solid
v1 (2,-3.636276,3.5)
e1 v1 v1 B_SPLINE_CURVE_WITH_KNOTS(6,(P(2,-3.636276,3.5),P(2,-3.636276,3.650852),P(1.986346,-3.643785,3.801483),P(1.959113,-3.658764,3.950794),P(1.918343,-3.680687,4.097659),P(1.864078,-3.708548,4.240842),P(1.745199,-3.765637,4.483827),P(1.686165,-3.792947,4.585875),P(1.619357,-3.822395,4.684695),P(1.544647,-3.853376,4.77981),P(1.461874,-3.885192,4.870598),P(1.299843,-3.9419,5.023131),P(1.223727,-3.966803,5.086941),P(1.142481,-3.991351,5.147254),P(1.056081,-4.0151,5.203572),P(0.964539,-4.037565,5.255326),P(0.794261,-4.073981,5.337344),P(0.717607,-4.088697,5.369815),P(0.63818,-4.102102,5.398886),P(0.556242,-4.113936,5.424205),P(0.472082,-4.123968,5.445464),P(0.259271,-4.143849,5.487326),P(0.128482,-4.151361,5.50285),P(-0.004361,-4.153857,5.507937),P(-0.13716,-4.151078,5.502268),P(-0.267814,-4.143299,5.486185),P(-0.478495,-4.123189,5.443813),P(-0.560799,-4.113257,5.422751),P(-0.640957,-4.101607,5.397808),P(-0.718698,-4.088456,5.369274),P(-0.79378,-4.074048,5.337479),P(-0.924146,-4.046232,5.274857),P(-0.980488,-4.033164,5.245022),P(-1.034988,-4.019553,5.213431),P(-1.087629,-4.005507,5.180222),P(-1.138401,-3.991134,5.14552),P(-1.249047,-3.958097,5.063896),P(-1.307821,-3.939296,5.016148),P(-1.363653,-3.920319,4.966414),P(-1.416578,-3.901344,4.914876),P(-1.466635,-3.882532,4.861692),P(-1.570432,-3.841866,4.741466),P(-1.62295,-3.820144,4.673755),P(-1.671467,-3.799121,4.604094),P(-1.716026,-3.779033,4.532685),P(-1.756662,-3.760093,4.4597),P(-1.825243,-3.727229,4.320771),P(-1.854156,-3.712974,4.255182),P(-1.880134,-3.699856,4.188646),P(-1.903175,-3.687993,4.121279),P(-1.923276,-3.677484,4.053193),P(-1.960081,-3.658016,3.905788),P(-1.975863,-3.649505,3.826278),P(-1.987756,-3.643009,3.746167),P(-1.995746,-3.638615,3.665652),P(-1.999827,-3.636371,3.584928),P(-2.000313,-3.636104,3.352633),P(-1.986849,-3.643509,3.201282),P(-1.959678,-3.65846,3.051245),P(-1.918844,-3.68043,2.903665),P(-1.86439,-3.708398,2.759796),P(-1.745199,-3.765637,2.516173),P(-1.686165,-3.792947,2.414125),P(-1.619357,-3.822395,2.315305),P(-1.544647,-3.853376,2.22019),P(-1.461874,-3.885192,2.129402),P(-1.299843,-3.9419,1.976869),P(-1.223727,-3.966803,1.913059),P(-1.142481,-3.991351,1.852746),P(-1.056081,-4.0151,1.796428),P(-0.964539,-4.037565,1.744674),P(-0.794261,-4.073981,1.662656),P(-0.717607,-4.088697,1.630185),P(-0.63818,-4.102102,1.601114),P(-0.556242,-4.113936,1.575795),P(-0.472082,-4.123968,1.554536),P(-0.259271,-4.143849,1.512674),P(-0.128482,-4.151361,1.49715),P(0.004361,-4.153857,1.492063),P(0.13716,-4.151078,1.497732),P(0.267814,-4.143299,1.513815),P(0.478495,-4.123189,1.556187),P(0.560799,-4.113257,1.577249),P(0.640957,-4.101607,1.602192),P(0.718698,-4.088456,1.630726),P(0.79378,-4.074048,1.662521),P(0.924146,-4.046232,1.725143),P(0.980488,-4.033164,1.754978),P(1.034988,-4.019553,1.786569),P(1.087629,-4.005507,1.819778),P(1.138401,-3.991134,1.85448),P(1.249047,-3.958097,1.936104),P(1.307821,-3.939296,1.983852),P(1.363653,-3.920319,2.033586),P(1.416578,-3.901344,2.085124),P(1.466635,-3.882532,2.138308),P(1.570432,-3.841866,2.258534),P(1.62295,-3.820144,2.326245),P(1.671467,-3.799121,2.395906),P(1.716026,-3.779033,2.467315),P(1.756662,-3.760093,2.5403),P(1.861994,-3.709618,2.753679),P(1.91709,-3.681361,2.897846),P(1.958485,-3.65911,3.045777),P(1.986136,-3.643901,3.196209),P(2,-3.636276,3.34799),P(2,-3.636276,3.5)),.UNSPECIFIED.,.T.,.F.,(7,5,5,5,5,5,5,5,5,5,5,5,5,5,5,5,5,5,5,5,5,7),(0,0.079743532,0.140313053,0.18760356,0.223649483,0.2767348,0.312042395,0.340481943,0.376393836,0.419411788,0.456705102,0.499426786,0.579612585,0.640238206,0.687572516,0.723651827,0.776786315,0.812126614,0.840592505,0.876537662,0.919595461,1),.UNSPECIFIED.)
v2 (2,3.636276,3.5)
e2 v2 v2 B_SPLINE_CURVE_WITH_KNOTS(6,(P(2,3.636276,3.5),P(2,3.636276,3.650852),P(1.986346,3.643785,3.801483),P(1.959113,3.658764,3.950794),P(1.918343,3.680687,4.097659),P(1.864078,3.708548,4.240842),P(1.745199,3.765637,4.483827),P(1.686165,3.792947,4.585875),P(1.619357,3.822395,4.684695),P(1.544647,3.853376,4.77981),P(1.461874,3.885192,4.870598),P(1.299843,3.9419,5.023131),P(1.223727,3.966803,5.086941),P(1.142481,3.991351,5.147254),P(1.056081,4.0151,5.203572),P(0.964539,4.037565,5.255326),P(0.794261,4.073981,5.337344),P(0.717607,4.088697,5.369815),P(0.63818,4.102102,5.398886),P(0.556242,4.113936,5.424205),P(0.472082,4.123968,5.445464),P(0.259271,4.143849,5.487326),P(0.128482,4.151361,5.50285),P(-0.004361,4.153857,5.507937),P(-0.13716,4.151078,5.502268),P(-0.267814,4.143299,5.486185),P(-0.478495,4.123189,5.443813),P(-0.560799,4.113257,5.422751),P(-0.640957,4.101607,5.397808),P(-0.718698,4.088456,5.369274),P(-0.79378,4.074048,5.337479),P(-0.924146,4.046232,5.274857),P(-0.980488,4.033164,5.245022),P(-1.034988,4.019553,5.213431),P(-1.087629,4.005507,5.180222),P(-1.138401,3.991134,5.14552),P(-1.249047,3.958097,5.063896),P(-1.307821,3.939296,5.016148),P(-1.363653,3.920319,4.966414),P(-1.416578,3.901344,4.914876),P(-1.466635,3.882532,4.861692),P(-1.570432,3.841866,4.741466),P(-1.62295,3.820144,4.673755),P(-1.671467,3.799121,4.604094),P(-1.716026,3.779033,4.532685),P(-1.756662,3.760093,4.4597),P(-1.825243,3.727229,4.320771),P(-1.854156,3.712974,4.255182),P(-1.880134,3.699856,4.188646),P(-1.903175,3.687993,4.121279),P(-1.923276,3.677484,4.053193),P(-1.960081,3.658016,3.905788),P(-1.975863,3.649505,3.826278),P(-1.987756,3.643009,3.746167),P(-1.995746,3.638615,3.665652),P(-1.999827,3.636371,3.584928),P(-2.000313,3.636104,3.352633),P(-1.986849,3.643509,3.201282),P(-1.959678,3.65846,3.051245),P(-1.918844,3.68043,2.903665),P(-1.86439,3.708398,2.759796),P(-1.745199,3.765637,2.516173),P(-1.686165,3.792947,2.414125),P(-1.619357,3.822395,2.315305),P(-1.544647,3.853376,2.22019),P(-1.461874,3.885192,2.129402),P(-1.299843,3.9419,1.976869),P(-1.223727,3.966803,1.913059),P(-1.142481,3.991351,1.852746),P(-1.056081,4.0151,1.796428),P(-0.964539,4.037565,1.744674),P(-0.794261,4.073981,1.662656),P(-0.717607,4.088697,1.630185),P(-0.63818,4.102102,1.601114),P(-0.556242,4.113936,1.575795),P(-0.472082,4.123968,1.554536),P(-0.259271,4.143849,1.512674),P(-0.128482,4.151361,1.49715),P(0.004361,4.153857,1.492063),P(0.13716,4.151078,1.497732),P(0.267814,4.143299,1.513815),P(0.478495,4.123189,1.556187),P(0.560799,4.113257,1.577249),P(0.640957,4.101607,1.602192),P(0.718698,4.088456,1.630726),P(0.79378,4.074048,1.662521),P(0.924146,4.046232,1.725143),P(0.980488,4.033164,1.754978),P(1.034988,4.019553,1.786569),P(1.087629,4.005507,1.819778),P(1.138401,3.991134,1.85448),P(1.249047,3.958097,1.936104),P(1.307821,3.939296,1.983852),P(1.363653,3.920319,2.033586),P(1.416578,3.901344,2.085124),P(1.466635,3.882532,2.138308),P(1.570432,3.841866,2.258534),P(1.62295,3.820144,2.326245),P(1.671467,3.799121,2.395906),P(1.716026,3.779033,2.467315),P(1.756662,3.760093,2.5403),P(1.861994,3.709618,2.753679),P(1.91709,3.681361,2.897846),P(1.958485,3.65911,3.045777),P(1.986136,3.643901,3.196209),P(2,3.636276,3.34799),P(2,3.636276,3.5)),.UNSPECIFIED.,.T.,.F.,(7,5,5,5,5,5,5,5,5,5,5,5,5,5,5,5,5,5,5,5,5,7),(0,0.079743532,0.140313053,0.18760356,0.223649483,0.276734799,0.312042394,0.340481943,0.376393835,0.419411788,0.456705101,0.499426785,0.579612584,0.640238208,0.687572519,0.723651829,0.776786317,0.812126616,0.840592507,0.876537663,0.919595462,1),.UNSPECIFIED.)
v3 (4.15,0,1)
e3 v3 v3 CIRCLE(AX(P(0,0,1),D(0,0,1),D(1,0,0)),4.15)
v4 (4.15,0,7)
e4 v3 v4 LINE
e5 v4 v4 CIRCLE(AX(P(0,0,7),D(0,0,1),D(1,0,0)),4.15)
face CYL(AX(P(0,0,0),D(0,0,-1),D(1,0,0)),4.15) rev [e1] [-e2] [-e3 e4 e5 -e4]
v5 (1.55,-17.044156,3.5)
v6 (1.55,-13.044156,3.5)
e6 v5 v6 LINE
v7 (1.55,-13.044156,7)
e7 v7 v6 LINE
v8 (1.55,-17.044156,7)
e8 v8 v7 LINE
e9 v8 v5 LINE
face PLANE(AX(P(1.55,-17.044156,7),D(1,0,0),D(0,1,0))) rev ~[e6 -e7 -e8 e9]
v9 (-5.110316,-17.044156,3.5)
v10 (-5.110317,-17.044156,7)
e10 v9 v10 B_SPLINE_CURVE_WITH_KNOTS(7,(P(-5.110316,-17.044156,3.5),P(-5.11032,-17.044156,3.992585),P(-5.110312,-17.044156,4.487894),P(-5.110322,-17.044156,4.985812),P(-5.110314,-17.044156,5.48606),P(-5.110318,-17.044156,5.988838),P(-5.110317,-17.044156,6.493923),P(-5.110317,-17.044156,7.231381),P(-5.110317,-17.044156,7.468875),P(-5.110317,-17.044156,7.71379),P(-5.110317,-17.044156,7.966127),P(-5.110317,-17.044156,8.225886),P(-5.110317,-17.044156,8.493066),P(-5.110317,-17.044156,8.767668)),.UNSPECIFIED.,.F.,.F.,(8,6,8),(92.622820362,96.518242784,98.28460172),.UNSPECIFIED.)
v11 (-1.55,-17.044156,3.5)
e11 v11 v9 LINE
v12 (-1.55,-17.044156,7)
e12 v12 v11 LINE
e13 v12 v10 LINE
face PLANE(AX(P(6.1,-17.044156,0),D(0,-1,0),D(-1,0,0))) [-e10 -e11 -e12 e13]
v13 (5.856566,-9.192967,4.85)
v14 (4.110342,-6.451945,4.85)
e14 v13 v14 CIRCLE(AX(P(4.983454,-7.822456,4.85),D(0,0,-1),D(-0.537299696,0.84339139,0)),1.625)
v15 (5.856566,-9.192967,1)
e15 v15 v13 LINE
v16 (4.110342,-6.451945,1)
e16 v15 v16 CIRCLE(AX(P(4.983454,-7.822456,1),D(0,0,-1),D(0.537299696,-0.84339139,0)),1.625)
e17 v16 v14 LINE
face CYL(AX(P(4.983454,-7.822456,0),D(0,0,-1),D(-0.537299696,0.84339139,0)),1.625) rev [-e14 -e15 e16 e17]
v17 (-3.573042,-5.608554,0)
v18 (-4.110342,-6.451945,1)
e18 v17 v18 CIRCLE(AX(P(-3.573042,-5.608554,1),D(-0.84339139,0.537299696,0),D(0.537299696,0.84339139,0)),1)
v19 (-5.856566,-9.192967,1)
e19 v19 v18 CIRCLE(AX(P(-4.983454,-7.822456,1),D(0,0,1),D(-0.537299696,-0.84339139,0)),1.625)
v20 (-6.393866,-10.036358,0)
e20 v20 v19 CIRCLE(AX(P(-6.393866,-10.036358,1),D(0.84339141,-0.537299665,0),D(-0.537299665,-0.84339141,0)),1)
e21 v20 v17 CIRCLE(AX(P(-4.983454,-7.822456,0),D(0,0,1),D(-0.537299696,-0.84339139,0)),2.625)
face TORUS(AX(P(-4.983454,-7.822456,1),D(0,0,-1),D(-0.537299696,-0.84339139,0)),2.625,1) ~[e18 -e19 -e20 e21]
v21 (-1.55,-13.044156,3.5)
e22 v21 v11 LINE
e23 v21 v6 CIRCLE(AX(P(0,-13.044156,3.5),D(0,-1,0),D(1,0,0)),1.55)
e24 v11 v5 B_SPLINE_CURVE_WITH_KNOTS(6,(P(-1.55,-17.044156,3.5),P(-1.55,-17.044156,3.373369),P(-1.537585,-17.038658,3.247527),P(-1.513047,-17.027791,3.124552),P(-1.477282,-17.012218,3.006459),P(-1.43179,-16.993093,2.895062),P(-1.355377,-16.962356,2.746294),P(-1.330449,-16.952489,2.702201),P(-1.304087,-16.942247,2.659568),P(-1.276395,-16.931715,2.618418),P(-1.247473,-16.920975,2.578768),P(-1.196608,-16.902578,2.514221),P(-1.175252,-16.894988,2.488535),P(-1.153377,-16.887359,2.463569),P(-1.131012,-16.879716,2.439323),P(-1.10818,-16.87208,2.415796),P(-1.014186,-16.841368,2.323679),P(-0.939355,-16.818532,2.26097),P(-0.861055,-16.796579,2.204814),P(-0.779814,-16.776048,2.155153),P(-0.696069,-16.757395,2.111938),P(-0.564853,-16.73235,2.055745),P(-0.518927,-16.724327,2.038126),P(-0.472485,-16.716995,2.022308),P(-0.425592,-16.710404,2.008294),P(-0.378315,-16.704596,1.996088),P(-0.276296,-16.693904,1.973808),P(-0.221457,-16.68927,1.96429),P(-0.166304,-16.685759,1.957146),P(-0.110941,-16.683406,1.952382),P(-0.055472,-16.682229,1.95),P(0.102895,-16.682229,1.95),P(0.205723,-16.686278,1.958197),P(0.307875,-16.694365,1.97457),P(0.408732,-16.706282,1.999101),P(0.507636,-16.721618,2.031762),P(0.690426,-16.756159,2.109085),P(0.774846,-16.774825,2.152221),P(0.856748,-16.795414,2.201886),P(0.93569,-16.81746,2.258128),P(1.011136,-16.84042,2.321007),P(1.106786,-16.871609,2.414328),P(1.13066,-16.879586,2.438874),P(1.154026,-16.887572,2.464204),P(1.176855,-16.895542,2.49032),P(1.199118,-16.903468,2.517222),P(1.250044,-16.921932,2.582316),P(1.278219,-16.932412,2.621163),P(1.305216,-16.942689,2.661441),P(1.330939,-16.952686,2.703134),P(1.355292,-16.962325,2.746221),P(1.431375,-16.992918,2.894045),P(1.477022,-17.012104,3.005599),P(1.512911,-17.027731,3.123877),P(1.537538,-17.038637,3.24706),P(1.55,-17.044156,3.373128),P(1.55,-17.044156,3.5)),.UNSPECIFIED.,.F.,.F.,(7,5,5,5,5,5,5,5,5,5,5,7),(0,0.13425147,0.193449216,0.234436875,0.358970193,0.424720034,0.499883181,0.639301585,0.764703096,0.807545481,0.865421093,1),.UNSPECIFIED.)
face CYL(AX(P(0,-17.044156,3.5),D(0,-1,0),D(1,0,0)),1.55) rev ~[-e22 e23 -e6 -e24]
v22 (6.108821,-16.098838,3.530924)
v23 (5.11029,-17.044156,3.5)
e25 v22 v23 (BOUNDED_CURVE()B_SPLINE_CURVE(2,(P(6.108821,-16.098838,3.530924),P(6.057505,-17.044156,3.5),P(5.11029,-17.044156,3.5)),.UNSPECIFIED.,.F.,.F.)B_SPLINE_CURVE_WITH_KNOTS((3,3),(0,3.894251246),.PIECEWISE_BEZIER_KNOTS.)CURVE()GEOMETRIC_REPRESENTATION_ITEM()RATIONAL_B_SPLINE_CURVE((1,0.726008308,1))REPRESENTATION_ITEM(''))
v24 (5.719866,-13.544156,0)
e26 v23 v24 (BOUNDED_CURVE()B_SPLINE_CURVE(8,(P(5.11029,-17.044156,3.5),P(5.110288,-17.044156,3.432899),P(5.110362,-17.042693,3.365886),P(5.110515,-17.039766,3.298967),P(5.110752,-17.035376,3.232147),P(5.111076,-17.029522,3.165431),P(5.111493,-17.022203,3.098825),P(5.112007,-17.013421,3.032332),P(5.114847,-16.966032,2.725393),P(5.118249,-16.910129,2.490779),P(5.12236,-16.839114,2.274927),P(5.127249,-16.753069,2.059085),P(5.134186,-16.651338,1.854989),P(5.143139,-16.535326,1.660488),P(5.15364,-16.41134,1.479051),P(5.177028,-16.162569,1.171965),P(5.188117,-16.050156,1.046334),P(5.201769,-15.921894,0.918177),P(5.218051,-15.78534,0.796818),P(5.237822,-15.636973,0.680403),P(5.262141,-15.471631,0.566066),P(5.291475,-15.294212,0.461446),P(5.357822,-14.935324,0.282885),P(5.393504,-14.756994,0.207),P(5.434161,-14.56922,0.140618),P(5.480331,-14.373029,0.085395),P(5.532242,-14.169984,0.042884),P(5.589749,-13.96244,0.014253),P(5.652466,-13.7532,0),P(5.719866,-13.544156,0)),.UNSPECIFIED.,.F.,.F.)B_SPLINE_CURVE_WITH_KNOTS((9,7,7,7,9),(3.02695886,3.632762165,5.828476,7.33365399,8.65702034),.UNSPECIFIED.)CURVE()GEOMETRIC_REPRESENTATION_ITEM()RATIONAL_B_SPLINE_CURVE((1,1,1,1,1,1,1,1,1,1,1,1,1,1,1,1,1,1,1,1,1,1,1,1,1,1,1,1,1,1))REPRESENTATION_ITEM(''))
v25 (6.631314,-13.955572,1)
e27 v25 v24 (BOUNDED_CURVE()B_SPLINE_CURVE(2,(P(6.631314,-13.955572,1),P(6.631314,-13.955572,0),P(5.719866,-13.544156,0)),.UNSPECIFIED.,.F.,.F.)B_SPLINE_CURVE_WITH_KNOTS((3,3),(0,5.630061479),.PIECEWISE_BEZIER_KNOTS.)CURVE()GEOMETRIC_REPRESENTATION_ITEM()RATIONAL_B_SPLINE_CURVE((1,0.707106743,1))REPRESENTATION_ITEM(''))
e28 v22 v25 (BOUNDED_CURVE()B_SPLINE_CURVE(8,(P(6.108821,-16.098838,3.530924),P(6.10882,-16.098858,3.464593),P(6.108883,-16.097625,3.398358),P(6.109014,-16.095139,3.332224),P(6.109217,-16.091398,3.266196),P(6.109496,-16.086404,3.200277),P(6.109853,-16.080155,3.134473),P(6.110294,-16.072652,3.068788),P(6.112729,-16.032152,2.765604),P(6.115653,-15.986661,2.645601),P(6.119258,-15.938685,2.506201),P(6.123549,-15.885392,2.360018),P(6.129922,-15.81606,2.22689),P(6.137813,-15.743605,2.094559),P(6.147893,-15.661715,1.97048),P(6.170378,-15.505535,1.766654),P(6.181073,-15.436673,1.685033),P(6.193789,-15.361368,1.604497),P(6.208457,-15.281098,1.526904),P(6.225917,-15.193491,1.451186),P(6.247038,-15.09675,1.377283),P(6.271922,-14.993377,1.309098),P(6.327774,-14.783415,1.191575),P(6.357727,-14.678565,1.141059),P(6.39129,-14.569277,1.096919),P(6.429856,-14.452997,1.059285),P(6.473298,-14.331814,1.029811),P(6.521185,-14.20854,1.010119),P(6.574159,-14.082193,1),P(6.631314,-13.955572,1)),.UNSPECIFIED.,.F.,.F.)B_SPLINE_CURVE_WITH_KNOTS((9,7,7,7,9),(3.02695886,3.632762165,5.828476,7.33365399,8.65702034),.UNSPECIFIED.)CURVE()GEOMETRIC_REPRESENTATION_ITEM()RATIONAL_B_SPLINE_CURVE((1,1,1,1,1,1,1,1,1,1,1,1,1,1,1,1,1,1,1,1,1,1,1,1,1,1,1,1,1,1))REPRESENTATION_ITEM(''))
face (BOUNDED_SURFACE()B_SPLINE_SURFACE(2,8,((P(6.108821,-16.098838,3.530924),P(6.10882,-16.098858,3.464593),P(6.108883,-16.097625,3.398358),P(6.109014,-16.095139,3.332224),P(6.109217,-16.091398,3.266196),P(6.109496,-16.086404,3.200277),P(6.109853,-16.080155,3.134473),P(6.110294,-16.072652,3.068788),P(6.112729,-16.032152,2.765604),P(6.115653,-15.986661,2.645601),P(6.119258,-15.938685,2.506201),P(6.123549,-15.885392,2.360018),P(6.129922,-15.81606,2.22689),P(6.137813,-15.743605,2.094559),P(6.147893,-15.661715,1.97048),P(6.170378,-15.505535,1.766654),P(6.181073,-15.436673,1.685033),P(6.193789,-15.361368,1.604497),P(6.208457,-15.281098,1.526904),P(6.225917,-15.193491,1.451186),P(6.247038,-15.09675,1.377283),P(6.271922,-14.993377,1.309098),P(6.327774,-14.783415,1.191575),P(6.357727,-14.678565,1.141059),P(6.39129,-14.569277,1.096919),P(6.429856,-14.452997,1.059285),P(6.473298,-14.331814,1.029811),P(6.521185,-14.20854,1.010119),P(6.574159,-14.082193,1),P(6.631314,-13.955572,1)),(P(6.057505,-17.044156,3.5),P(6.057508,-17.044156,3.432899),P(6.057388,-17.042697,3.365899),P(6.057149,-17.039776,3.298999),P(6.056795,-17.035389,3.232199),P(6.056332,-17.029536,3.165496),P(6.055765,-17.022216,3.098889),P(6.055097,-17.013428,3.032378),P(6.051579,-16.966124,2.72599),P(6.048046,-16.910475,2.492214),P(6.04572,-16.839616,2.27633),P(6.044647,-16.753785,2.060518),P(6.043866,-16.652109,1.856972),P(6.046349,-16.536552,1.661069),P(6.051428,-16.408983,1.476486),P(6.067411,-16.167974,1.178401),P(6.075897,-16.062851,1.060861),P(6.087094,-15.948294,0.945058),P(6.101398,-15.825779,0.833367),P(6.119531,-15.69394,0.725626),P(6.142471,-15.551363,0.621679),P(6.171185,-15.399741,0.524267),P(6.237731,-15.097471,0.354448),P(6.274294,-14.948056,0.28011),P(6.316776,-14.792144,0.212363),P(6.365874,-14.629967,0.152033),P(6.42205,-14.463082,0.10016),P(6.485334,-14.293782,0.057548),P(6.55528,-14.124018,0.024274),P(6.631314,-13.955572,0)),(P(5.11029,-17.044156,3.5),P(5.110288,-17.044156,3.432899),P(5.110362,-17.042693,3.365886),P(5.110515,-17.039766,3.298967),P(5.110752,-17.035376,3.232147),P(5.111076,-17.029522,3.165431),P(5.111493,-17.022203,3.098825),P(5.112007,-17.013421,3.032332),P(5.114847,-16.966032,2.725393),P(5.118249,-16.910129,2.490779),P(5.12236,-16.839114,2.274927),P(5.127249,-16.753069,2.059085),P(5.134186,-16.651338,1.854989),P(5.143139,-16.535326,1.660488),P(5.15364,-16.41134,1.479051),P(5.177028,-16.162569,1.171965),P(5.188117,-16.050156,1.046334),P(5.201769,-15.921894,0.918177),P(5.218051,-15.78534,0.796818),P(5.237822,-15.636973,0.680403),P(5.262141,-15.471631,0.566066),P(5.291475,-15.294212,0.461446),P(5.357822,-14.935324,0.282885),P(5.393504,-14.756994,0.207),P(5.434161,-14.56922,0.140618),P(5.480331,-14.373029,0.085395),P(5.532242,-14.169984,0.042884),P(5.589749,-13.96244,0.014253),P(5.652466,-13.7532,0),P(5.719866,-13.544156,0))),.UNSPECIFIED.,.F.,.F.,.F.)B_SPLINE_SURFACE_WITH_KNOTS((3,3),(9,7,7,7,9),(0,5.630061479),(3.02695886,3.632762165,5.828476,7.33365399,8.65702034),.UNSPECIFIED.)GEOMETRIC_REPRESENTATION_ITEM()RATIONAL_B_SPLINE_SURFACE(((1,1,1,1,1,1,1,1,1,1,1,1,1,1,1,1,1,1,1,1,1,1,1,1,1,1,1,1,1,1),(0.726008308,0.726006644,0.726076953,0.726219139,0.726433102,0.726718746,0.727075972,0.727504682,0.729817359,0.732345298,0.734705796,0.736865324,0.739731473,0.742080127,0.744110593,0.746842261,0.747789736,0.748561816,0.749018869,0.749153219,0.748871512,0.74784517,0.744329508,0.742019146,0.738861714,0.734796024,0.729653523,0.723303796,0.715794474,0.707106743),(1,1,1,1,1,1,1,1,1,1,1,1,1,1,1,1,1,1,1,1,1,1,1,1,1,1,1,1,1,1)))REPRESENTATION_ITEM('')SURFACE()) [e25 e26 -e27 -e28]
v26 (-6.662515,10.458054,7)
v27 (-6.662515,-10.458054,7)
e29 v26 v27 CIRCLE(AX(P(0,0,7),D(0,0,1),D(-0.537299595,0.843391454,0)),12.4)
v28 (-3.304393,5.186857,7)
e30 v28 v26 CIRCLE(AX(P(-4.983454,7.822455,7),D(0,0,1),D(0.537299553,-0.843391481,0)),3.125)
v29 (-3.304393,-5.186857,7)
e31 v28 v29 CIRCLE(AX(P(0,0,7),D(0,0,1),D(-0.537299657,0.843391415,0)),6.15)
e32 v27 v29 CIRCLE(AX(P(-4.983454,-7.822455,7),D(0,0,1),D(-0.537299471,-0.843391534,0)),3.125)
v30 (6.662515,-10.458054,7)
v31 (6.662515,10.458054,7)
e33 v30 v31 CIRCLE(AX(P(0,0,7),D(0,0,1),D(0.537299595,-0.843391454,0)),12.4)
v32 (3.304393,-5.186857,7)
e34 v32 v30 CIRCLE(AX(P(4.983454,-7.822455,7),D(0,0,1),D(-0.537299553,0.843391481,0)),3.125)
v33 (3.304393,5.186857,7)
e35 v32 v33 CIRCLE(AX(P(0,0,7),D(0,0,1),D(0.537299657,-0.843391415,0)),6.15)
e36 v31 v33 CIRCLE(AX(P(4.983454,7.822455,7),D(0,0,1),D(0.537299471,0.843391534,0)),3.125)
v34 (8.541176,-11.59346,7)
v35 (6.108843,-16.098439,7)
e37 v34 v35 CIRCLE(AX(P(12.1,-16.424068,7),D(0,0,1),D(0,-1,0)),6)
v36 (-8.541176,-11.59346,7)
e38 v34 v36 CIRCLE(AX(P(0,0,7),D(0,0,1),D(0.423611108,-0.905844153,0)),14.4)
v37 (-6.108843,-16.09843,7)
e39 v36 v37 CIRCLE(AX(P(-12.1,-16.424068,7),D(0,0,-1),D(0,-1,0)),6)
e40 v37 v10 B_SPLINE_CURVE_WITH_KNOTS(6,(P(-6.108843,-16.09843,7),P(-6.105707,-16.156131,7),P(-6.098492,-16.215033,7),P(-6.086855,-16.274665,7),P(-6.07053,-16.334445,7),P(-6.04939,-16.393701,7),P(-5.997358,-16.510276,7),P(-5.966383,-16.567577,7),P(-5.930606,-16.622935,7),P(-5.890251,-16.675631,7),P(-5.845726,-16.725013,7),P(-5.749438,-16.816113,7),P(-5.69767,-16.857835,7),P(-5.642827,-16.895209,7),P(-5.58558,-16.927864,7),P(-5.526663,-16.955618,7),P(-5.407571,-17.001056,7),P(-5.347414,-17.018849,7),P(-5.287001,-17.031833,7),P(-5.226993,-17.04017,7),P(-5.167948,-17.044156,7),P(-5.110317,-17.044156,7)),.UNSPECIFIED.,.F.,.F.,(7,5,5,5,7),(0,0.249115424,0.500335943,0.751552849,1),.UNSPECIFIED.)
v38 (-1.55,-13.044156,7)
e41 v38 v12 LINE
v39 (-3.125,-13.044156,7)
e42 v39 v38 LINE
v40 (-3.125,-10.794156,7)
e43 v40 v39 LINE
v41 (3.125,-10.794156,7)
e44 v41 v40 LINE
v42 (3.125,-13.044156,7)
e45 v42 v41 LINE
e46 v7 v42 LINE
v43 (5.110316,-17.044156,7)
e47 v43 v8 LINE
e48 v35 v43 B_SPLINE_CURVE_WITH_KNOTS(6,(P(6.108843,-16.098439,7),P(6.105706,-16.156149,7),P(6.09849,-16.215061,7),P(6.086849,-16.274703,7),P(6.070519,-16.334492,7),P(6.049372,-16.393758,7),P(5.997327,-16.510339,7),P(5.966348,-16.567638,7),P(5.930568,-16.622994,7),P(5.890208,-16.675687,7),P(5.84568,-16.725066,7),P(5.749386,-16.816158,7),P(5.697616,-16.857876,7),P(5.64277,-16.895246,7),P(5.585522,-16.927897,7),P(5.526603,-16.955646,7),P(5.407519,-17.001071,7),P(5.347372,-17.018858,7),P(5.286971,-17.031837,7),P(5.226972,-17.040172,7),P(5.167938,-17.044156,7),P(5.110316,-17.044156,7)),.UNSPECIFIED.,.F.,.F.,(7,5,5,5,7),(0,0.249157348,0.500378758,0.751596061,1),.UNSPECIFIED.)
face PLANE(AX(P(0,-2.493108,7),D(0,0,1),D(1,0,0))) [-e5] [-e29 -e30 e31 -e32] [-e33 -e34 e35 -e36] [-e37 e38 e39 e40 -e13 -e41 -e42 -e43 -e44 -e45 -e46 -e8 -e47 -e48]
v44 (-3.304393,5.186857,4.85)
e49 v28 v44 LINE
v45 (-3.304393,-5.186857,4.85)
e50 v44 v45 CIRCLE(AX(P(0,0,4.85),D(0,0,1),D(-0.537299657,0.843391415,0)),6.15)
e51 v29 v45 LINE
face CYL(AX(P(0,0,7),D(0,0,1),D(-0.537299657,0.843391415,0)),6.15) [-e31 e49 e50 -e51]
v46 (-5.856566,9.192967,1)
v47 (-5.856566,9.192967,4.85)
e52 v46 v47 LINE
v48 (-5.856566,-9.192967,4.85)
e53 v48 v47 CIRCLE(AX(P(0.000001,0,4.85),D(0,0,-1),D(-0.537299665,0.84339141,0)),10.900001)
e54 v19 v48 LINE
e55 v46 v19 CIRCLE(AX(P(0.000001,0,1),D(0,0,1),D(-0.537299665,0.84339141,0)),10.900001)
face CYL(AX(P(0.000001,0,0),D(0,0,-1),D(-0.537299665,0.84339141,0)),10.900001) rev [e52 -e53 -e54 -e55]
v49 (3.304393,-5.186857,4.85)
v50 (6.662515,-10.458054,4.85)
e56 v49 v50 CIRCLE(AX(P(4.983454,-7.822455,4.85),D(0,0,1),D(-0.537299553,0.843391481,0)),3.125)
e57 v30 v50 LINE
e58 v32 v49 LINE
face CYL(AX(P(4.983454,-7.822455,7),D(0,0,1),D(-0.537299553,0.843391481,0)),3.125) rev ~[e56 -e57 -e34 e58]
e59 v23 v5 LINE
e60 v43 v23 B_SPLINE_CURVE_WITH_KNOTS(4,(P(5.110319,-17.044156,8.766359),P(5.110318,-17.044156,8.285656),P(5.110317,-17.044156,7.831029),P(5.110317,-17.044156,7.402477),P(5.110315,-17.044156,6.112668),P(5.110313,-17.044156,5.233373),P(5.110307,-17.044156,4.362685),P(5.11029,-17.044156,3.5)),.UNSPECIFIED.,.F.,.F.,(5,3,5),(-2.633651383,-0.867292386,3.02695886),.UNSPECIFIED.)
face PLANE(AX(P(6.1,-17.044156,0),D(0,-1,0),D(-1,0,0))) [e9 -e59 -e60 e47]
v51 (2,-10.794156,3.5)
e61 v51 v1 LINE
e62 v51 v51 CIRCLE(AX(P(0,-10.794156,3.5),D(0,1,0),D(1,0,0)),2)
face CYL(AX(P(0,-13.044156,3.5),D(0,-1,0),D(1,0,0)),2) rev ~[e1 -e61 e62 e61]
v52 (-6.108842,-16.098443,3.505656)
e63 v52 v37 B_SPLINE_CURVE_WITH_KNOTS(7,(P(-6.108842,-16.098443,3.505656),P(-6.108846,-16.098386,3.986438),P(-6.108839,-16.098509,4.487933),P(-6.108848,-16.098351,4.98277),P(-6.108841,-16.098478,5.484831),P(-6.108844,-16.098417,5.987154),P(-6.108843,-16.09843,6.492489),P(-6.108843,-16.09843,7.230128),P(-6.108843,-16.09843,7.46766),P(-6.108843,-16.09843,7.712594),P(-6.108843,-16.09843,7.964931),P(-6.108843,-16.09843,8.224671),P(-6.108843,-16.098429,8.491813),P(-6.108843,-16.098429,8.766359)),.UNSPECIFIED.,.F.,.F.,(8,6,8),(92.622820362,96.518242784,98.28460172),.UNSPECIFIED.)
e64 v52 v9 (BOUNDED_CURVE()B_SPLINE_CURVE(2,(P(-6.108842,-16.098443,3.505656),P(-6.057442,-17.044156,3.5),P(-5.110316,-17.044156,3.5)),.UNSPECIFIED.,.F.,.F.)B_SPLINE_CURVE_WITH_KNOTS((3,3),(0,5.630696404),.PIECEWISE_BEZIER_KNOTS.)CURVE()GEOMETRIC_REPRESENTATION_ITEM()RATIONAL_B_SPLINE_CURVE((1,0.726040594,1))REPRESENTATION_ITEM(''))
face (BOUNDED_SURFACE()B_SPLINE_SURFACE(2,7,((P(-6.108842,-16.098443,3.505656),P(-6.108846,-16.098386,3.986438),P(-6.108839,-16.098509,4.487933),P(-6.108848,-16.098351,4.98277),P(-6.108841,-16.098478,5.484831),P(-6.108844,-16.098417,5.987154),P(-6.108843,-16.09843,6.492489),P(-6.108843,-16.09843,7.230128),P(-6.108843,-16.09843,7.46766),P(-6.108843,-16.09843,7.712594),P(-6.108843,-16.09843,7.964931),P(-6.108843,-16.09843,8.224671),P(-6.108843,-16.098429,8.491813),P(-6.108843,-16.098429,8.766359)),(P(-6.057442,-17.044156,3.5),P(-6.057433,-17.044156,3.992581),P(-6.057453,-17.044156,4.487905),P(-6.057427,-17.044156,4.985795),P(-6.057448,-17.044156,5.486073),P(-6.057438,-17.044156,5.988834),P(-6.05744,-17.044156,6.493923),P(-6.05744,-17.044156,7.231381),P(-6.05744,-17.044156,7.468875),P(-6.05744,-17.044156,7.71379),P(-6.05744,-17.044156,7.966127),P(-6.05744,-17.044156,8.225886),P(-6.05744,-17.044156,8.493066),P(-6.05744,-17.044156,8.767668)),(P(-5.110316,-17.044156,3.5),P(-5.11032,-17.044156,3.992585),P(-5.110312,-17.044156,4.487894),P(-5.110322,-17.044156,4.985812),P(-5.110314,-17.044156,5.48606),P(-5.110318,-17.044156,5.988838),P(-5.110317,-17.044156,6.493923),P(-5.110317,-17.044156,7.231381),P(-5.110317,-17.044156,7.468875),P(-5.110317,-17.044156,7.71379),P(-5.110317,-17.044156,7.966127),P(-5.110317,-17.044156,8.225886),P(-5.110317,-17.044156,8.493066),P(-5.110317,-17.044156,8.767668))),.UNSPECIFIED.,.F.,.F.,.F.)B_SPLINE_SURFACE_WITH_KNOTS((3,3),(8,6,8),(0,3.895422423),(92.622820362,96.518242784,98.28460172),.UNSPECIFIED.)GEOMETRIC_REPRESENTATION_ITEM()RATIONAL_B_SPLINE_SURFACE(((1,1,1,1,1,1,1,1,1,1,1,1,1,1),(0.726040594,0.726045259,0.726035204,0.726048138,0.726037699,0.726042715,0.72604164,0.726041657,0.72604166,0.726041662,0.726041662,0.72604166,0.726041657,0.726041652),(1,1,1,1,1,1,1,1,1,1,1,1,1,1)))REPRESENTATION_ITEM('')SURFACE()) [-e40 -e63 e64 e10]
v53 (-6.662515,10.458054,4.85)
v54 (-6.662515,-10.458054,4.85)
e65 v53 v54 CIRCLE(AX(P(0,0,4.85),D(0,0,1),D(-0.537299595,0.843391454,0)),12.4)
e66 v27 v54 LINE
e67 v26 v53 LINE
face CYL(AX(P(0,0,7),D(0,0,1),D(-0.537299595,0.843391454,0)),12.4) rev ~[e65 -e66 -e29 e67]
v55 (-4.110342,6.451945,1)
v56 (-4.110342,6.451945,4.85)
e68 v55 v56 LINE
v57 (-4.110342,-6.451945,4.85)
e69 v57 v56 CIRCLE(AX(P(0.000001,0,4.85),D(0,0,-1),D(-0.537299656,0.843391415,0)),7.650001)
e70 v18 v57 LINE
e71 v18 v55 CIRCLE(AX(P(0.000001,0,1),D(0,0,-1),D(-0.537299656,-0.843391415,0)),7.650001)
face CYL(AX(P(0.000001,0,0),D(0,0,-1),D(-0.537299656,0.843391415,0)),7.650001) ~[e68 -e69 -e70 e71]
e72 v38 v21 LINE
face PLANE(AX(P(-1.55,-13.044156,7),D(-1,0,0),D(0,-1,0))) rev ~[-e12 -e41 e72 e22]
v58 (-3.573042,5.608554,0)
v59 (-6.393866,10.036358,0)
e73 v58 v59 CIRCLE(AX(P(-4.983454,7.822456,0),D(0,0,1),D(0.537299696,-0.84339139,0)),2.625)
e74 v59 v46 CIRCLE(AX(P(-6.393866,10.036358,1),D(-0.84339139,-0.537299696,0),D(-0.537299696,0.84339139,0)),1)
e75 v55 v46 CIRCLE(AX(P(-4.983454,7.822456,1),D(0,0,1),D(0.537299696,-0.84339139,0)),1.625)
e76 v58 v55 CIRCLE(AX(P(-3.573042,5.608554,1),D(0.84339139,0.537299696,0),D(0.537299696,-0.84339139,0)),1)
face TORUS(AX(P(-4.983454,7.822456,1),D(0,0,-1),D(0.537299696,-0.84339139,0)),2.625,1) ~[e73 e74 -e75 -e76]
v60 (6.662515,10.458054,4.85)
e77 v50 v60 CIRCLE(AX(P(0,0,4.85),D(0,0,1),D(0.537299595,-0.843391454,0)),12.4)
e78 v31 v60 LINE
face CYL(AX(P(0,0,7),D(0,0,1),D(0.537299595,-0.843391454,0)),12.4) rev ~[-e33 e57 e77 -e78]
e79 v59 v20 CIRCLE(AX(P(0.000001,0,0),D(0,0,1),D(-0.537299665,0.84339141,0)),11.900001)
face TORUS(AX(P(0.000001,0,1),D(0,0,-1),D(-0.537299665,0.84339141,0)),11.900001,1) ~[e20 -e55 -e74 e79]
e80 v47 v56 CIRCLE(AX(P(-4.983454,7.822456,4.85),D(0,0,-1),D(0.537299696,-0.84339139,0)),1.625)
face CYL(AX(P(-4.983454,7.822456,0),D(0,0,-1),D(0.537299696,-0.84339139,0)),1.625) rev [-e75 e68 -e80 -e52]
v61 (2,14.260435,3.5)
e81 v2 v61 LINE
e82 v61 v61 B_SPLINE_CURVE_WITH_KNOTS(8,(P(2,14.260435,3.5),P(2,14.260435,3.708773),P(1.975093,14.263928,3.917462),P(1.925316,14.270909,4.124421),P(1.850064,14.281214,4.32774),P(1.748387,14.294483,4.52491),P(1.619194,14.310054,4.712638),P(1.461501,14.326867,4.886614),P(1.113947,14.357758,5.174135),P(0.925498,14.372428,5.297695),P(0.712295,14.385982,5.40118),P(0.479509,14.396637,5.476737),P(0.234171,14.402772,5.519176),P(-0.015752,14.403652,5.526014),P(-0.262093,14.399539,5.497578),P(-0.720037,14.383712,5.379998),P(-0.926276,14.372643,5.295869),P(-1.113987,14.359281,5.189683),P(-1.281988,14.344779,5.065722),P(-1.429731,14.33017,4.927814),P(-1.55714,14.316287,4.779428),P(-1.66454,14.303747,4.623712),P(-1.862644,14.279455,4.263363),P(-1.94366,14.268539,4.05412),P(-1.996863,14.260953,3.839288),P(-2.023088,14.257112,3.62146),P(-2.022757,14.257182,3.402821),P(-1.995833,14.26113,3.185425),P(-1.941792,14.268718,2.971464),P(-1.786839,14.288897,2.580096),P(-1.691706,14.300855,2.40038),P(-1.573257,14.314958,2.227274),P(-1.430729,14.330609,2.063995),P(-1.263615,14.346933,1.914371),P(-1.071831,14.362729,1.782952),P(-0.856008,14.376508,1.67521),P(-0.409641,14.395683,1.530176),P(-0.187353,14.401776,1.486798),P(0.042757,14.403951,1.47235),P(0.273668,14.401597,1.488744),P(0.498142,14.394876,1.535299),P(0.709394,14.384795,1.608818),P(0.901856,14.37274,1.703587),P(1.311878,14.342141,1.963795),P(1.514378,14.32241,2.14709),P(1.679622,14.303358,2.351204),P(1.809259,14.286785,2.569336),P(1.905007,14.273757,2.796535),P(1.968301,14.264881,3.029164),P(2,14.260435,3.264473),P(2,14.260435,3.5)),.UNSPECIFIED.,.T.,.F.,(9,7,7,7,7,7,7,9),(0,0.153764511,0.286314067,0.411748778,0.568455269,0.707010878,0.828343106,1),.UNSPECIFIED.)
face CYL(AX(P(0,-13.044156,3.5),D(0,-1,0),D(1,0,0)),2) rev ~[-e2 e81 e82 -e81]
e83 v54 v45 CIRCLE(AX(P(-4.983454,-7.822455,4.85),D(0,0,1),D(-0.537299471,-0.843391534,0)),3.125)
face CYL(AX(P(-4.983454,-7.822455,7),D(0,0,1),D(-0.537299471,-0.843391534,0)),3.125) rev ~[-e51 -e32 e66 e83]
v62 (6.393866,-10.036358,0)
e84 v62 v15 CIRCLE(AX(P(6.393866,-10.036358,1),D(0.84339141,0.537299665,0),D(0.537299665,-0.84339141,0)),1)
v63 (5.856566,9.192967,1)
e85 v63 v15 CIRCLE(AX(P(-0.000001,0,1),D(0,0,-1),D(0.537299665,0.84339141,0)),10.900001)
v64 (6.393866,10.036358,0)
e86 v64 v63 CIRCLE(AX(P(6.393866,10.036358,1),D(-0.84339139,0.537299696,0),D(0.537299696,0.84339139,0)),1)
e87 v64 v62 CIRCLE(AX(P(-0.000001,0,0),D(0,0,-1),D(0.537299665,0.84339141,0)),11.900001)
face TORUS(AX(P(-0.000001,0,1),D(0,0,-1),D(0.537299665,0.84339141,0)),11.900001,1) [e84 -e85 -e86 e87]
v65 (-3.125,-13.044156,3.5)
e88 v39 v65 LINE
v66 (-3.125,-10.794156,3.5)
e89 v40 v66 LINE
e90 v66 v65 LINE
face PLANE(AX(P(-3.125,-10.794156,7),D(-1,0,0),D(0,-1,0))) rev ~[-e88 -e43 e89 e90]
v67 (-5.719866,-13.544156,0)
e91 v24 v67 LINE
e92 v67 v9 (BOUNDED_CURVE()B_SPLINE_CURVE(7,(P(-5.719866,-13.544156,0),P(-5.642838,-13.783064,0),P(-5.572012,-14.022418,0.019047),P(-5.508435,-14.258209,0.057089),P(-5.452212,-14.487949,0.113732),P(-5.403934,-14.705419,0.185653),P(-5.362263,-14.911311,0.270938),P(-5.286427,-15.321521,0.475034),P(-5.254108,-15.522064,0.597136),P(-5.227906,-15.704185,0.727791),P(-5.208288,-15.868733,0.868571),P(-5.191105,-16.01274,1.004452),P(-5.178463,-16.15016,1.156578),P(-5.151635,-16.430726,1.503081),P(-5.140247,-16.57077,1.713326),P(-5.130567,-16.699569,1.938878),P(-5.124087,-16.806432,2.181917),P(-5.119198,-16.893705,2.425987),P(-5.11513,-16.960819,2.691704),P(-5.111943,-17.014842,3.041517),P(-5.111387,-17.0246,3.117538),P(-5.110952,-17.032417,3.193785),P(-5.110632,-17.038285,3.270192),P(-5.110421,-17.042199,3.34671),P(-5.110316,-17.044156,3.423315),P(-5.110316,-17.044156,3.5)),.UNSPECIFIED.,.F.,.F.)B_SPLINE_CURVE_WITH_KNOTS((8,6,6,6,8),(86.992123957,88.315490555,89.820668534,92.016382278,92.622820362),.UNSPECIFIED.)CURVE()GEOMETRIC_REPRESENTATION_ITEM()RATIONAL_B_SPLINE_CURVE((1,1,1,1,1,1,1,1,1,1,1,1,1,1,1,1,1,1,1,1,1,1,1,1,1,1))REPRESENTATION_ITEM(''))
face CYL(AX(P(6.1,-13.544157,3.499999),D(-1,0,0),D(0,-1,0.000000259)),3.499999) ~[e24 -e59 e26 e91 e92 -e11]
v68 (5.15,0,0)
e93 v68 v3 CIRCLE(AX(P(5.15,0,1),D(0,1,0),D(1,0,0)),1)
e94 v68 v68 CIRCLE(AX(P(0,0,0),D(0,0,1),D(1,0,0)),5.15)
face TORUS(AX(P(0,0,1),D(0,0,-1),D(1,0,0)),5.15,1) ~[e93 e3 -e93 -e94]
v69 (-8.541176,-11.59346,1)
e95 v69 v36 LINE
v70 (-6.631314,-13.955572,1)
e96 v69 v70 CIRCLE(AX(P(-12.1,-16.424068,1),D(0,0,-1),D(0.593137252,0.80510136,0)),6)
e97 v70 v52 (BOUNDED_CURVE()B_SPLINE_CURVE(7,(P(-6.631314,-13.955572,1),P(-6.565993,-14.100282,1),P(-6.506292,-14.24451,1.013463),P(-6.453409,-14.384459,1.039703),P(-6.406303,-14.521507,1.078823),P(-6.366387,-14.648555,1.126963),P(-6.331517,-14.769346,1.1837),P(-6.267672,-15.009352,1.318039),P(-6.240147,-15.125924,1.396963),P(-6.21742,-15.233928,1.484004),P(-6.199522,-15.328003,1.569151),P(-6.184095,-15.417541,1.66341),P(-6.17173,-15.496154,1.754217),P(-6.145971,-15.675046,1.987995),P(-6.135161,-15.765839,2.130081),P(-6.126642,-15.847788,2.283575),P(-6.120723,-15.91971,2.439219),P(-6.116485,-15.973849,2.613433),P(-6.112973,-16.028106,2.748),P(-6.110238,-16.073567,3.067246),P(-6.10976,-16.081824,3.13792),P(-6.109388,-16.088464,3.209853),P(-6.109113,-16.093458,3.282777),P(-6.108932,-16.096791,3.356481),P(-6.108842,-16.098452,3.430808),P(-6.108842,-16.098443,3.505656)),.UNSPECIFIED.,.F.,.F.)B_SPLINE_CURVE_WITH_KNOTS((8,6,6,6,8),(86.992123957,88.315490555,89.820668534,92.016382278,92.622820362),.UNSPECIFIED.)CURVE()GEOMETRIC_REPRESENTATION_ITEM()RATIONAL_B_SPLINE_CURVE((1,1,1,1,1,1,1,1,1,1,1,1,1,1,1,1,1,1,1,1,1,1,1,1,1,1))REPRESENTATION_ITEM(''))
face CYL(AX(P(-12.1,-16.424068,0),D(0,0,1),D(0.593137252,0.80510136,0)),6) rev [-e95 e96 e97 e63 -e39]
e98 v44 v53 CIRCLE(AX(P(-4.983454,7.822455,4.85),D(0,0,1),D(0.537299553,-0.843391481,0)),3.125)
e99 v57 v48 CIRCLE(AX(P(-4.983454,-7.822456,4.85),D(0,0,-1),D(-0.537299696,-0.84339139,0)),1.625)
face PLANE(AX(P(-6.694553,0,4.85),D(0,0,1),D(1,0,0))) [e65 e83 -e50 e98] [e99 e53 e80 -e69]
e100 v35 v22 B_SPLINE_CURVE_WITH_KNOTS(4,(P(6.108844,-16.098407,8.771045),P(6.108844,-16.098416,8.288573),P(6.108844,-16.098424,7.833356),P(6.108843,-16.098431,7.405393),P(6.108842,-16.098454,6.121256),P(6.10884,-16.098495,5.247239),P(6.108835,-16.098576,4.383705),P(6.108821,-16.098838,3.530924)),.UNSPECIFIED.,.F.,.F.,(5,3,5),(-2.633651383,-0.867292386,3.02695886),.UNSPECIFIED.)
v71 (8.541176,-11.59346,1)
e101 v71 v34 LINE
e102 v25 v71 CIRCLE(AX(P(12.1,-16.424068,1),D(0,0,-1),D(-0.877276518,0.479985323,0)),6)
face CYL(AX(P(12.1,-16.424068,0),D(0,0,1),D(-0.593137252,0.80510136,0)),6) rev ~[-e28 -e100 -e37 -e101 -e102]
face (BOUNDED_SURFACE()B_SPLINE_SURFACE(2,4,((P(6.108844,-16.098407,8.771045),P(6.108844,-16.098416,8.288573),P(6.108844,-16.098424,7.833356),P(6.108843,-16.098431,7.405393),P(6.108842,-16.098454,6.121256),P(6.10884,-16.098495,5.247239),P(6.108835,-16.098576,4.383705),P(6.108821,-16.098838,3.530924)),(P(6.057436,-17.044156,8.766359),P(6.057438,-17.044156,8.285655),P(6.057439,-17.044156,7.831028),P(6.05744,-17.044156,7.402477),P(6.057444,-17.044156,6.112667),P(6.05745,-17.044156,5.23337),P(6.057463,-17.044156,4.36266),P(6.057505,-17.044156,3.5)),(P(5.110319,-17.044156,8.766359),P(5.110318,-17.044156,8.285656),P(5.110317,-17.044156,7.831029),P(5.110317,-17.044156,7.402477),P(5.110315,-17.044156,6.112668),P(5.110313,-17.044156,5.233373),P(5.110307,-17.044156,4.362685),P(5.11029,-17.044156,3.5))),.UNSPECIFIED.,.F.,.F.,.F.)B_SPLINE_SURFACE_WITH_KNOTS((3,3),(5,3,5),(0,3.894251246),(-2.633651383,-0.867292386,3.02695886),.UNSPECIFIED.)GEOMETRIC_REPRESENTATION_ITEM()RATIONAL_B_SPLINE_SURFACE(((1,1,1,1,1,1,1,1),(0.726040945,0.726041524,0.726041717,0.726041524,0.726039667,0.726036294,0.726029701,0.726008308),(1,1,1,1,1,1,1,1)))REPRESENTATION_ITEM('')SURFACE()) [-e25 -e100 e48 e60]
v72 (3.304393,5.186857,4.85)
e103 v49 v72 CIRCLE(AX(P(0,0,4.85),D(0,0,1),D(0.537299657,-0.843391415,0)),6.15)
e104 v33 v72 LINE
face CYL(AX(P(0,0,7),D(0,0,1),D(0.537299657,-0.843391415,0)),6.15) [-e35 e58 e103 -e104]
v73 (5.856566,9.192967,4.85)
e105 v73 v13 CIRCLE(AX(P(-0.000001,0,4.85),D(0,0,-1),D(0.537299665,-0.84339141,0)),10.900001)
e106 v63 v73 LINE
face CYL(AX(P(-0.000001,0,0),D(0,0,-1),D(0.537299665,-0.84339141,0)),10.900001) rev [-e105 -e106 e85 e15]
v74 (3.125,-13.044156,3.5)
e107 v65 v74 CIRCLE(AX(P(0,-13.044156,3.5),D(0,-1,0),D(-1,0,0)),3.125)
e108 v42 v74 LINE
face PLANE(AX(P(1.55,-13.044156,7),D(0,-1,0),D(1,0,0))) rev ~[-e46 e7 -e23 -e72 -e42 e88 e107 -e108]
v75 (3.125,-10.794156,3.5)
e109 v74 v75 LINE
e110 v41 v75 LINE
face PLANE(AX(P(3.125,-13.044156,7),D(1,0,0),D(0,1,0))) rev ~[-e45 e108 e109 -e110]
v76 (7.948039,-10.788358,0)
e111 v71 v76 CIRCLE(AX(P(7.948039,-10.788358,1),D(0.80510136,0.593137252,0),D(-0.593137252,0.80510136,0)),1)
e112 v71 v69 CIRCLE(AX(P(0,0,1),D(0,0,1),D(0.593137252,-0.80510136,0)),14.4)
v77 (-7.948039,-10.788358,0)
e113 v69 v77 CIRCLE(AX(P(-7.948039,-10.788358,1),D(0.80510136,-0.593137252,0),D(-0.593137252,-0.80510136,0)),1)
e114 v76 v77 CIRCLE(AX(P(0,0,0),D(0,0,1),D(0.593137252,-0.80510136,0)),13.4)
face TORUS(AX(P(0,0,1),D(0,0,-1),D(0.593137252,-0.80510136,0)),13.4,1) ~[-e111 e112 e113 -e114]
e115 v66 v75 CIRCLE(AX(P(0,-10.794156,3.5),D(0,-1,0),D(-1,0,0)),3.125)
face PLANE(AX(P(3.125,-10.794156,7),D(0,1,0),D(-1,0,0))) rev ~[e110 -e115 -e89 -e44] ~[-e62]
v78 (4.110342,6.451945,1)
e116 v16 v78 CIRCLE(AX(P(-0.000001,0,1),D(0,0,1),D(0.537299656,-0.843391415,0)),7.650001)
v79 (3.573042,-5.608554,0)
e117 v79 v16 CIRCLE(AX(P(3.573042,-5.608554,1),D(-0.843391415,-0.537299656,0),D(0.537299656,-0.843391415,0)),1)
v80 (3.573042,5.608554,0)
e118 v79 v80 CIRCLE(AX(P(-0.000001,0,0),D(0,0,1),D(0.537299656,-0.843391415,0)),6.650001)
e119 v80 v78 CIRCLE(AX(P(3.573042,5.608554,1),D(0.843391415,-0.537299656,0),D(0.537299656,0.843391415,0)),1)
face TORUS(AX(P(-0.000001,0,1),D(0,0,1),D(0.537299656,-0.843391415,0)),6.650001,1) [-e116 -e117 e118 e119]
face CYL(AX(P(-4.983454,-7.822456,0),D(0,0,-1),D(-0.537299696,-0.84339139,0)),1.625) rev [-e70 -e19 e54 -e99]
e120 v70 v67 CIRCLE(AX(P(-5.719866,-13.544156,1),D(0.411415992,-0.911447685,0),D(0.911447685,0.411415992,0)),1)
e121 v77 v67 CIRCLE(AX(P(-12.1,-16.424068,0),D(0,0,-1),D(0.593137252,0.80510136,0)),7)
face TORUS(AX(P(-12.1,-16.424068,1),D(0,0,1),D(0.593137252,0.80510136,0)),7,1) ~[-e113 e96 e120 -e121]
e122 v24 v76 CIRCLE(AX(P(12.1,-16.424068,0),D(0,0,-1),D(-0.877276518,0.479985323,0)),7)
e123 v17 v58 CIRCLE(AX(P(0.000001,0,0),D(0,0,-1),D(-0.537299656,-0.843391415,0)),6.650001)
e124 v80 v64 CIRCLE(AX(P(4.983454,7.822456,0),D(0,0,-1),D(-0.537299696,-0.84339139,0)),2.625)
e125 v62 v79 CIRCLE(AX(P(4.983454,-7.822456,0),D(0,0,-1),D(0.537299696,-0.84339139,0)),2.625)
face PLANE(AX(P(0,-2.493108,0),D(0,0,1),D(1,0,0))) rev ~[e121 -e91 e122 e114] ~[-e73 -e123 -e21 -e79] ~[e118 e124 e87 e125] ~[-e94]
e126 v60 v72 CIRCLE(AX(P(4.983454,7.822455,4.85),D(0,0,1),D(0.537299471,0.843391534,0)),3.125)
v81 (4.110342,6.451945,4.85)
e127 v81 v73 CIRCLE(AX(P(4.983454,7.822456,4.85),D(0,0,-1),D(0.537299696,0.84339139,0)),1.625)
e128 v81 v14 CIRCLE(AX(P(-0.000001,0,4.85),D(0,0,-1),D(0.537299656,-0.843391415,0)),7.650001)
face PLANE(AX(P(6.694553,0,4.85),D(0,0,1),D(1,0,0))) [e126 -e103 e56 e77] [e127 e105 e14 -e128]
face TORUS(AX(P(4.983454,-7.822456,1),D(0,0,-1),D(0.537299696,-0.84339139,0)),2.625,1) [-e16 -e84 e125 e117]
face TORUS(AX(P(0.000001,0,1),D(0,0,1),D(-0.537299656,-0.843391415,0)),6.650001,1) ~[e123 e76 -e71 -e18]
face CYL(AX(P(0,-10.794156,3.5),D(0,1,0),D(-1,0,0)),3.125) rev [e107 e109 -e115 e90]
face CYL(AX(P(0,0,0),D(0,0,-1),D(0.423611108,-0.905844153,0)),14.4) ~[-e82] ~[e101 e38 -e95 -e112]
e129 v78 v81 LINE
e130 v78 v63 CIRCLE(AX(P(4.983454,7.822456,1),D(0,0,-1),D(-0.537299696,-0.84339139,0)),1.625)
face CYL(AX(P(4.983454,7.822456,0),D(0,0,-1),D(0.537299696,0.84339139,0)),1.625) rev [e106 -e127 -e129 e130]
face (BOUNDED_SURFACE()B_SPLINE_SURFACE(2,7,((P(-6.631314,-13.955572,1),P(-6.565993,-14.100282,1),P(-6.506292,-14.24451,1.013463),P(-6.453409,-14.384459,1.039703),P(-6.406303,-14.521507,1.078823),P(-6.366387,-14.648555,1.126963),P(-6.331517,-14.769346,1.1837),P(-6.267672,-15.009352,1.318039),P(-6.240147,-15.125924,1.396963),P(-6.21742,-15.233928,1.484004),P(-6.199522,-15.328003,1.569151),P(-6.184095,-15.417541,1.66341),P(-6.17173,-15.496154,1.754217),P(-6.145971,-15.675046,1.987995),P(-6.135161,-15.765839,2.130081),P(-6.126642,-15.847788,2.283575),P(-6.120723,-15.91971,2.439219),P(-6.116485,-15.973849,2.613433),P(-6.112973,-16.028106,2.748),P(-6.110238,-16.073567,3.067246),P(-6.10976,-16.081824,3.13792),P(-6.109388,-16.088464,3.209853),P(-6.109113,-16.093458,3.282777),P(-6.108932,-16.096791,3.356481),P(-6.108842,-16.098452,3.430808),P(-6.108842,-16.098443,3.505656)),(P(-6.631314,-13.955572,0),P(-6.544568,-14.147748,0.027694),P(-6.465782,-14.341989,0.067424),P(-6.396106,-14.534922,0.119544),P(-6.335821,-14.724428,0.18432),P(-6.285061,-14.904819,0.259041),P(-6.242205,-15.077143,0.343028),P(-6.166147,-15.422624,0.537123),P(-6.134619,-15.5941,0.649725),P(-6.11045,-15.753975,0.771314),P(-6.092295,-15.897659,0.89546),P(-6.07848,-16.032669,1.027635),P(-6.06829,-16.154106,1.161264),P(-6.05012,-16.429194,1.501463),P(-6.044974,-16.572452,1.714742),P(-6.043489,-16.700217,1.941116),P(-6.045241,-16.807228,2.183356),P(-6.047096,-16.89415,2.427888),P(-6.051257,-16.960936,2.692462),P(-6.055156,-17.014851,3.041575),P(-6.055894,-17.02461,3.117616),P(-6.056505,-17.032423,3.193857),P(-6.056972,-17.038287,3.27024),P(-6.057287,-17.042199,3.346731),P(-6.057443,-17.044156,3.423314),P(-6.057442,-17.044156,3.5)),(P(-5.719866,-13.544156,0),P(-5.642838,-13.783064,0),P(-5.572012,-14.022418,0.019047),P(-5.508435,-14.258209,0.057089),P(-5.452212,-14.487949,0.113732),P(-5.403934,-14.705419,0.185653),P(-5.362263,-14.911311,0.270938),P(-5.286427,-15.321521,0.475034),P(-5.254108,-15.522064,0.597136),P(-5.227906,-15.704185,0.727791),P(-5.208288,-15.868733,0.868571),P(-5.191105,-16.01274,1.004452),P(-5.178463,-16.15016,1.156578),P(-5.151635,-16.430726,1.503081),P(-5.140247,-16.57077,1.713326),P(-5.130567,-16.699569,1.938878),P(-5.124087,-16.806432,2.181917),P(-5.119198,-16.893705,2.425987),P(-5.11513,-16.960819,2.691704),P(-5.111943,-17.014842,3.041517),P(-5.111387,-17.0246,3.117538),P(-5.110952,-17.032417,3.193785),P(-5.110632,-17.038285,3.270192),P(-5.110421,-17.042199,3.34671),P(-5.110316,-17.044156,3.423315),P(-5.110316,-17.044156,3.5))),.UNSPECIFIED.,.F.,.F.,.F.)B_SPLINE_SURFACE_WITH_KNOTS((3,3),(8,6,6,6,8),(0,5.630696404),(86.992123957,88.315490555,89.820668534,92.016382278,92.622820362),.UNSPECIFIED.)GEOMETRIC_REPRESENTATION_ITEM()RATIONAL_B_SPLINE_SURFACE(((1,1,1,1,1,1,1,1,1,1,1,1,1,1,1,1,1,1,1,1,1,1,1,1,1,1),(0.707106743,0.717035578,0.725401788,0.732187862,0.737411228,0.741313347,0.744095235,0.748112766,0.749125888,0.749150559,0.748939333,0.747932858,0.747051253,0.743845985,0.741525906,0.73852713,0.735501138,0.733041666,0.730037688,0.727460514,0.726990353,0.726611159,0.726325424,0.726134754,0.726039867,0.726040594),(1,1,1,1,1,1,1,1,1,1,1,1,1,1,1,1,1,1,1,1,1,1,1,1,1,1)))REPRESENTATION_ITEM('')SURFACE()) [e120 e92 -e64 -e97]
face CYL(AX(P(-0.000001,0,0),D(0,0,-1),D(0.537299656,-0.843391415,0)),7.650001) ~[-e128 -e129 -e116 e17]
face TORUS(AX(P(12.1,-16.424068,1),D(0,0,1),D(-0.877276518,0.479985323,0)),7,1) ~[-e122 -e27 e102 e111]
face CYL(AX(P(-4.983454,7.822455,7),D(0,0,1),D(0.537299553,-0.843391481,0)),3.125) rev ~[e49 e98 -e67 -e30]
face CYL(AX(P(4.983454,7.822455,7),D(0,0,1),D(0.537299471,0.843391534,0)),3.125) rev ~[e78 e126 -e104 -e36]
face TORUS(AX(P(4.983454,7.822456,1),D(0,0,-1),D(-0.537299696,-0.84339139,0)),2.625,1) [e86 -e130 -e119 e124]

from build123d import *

# Parameters (mm, degrees)
SKETCH_R          = 4.15
EXTRUDE_DEPTH     = 7
FILLET_R          = 6
POCKET_DEPTH      = 20.501
POCKET_DEPTH_BACK = 8.301
SKETCH002_R       = 1.55
POCKET001_DEPTH   = 4
SKETCH003_R       = 2
POCKET002_DEPTH   = 27.445156
POCKET003_DEPTH   = 3.5
POCKET004_DEPTH   = 2.25
POCKET005_DEPTH   = 2.15
FILLET001_R       = 1


with BuildPart() as part:
    # Sketch → Extrude (new body)
    with BuildSketch(Plane.XY):
        with BuildLine():
            ThreePointArc((6.1, -13.044156), (0, 14.4), (-6.1, -13.044156))
            Line((-6.1, -17.044156), (-6.1, -13.044156))
            Line((6.1, -17.044156), (-6.1, -17.044156))
            Line((6.1, -13.044156), (6.1, -17.044156))
        make_face()
        Circle(SKETCH_R, mode=Mode.SUBTRACT)
        with BuildLine():
            ThreePointArc((-4.110342, 6.451945), (-7.65, 0), (-4.110342, -6.451945))
            ThreePointArc((-5.856566, -9.192967), (-3.612943, -8.695568), (-4.110342, -6.451945))
            ThreePointArc((-5.856566, 9.192967), (-10.9, 0), (-5.856566, -9.192967))
            ThreePointArc((-4.110342, 6.451945), (-3.612943, 8.695568), (-5.856566, 9.192967))
        make_face(mode=Mode.SUBTRACT)
        with BuildLine():
            ThreePointArc((4.110342, -6.451945), (7.65, 0), (4.110342, 6.451945))
            ThreePointArc((5.856566, 9.192967), (3.612943, 8.695568), (4.110342, 6.451945))
            ThreePointArc((5.856566, -9.192967), (10.9, 0), (5.856566, 9.192967))
            ThreePointArc((4.110342, -6.451945), (3.612943, -8.695568), (5.856566, -9.192967))
        make_face(mode=Mode.SUBTRACT)
    extrude(amount=EXTRUDE_DEPTH)

    # Fillet
    fillet_edges = [part.edges().sort_by_distance(p)[0] for p in [
        (6.1, -13.044156, 3.5),
        (-6.1, -13.044156, 3.5),
    ]]
    fillet(fillet_edges, radius=FILLET_R)

    # Sketch001 → Pocket (cut, two sides)
    with BuildSketch(Plane.YZ.offset(6.1)) as pocket_sk:
        with BuildLine():
            Line((-17.044156, 3.5), (-17.044156, 0))
            Line((-17.044156, 0), (-13.544156, 0))
            ThreePointArc((-17.044156, 3.5), (-16.01903, 1.025126), (-13.544156, 0))
        make_face()
    extrude(amount=-POCKET_DEPTH, mode=Mode.SUBTRACT)
    extrude(pocket_sk.sketch, amount=POCKET_DEPTH_BACK, mode=Mode.SUBTRACT)

    # Sketch002 → Pocket001 (cut)
    with BuildSketch(Plane.XZ.offset(17.044156)):
        with Locations((0, 3.5)):
            Circle(SKETCH002_R)
    extrude(amount=-POCKET001_DEPTH, mode=Mode.SUBTRACT)

    # Sketch003 → Pocket002 (cut, through all)
    with BuildSketch(Plane.XZ.offset(13.044156)):
        with Locations((0, 3.5)):
            Circle(SKETCH003_R)
    extrude(amount=-POCKET002_DEPTH, mode=Mode.SUBTRACT)

    # Sketch004 → Pocket003 (cut)
    with BuildSketch(Plane.XY.offset(7)):
        Polygon((-3.125, -10.794156), (-3.125, -13.044156), (-1.55, -13.044156), (-1.55, -17.044156), (1.55, -17.044156), (1.55, -13.044156), (3.125, -13.044156), (3.125, -10.794156), align=None)
    extrude(amount=-POCKET003_DEPTH, mode=Mode.SUBTRACT)

    # Sketch005 → Pocket004 (cut)
    with BuildSketch(Plane.XZ.offset(10.794156)):
        with BuildLine():
            Line((-3.125, 3.5), (3.125, 3.5))
            ThreePointArc((-3.125, 3.5), (0, 0.375), (3.125, 3.5))
        make_face()
    extrude(amount=POCKET004_DEPTH, mode=Mode.SUBTRACT)

    # Sketch006 → Pocket005 (cut)
    with BuildSketch(Plane.XY.offset(7)):
        with BuildLine():
            ThreePointArc((-3.304393, 5.186857), (-2.347856, 9.501517), (-6.662515, 10.458054))
            ThreePointArc((-6.662515, 10.458054), (-12.4, 0), (-6.662515, -10.458054))
            ThreePointArc((-6.662515, -10.458054), (-2.347856, -9.501517), (-3.304393, -5.186857))
            ThreePointArc((-3.304393, 5.186857), (-6.15, 0), (-3.304393, -5.186857))
        make_face()
        with BuildLine():
            ThreePointArc((6.662515, 10.458054), (2.347856, 9.501517), (3.304393, 5.186857))
            ThreePointArc((3.304393, -5.186857), (6.15, 0), (3.304393, 5.186857))
            ThreePointArc((3.304393, -5.186857), (2.347856, -9.501517), (6.662515, -10.458054))
            ThreePointArc((6.662515, -10.458054), (12.4, 0), (6.662515, 10.458054))
        make_face()
    extrude(amount=-POCKET005_DEPTH, mode=Mode.SUBTRACT)

    # Fillet001
    fillet001_edges = [part.edges().sort_by_distance(p)[0] for p in [
        (0, 14.4, 0),
        (7.582218, -12.475695, 0),
        (-7.582218, -12.475695, 0),
        (-3.612943, 8.695568, 0),
        (-7.65, 0, 0),
        (-10.9, 0, 0),
        (-3.612943, -8.695568, 0),
        (-4.15, 0, 0),
        (7.65, 0, 0),
        (3.612943, -8.695568, 0),
        (3.612943, 8.695568, 0),
        (10.9, 0, 0),
        (6.242385, -15.124706, 0.377203),
        (-6.242385, -15.124706, 0.377203),
        (6.1, -16.88554, 2.458293),
        (-6.1, -16.88554, 2.458293),
        (6.1, -17.044156, 5.25),
        (-6.1, -17.044156, 5.25),
    ]]
    fillet(fillet001_edges, radius=FILLET001_R)


solid = part.part
